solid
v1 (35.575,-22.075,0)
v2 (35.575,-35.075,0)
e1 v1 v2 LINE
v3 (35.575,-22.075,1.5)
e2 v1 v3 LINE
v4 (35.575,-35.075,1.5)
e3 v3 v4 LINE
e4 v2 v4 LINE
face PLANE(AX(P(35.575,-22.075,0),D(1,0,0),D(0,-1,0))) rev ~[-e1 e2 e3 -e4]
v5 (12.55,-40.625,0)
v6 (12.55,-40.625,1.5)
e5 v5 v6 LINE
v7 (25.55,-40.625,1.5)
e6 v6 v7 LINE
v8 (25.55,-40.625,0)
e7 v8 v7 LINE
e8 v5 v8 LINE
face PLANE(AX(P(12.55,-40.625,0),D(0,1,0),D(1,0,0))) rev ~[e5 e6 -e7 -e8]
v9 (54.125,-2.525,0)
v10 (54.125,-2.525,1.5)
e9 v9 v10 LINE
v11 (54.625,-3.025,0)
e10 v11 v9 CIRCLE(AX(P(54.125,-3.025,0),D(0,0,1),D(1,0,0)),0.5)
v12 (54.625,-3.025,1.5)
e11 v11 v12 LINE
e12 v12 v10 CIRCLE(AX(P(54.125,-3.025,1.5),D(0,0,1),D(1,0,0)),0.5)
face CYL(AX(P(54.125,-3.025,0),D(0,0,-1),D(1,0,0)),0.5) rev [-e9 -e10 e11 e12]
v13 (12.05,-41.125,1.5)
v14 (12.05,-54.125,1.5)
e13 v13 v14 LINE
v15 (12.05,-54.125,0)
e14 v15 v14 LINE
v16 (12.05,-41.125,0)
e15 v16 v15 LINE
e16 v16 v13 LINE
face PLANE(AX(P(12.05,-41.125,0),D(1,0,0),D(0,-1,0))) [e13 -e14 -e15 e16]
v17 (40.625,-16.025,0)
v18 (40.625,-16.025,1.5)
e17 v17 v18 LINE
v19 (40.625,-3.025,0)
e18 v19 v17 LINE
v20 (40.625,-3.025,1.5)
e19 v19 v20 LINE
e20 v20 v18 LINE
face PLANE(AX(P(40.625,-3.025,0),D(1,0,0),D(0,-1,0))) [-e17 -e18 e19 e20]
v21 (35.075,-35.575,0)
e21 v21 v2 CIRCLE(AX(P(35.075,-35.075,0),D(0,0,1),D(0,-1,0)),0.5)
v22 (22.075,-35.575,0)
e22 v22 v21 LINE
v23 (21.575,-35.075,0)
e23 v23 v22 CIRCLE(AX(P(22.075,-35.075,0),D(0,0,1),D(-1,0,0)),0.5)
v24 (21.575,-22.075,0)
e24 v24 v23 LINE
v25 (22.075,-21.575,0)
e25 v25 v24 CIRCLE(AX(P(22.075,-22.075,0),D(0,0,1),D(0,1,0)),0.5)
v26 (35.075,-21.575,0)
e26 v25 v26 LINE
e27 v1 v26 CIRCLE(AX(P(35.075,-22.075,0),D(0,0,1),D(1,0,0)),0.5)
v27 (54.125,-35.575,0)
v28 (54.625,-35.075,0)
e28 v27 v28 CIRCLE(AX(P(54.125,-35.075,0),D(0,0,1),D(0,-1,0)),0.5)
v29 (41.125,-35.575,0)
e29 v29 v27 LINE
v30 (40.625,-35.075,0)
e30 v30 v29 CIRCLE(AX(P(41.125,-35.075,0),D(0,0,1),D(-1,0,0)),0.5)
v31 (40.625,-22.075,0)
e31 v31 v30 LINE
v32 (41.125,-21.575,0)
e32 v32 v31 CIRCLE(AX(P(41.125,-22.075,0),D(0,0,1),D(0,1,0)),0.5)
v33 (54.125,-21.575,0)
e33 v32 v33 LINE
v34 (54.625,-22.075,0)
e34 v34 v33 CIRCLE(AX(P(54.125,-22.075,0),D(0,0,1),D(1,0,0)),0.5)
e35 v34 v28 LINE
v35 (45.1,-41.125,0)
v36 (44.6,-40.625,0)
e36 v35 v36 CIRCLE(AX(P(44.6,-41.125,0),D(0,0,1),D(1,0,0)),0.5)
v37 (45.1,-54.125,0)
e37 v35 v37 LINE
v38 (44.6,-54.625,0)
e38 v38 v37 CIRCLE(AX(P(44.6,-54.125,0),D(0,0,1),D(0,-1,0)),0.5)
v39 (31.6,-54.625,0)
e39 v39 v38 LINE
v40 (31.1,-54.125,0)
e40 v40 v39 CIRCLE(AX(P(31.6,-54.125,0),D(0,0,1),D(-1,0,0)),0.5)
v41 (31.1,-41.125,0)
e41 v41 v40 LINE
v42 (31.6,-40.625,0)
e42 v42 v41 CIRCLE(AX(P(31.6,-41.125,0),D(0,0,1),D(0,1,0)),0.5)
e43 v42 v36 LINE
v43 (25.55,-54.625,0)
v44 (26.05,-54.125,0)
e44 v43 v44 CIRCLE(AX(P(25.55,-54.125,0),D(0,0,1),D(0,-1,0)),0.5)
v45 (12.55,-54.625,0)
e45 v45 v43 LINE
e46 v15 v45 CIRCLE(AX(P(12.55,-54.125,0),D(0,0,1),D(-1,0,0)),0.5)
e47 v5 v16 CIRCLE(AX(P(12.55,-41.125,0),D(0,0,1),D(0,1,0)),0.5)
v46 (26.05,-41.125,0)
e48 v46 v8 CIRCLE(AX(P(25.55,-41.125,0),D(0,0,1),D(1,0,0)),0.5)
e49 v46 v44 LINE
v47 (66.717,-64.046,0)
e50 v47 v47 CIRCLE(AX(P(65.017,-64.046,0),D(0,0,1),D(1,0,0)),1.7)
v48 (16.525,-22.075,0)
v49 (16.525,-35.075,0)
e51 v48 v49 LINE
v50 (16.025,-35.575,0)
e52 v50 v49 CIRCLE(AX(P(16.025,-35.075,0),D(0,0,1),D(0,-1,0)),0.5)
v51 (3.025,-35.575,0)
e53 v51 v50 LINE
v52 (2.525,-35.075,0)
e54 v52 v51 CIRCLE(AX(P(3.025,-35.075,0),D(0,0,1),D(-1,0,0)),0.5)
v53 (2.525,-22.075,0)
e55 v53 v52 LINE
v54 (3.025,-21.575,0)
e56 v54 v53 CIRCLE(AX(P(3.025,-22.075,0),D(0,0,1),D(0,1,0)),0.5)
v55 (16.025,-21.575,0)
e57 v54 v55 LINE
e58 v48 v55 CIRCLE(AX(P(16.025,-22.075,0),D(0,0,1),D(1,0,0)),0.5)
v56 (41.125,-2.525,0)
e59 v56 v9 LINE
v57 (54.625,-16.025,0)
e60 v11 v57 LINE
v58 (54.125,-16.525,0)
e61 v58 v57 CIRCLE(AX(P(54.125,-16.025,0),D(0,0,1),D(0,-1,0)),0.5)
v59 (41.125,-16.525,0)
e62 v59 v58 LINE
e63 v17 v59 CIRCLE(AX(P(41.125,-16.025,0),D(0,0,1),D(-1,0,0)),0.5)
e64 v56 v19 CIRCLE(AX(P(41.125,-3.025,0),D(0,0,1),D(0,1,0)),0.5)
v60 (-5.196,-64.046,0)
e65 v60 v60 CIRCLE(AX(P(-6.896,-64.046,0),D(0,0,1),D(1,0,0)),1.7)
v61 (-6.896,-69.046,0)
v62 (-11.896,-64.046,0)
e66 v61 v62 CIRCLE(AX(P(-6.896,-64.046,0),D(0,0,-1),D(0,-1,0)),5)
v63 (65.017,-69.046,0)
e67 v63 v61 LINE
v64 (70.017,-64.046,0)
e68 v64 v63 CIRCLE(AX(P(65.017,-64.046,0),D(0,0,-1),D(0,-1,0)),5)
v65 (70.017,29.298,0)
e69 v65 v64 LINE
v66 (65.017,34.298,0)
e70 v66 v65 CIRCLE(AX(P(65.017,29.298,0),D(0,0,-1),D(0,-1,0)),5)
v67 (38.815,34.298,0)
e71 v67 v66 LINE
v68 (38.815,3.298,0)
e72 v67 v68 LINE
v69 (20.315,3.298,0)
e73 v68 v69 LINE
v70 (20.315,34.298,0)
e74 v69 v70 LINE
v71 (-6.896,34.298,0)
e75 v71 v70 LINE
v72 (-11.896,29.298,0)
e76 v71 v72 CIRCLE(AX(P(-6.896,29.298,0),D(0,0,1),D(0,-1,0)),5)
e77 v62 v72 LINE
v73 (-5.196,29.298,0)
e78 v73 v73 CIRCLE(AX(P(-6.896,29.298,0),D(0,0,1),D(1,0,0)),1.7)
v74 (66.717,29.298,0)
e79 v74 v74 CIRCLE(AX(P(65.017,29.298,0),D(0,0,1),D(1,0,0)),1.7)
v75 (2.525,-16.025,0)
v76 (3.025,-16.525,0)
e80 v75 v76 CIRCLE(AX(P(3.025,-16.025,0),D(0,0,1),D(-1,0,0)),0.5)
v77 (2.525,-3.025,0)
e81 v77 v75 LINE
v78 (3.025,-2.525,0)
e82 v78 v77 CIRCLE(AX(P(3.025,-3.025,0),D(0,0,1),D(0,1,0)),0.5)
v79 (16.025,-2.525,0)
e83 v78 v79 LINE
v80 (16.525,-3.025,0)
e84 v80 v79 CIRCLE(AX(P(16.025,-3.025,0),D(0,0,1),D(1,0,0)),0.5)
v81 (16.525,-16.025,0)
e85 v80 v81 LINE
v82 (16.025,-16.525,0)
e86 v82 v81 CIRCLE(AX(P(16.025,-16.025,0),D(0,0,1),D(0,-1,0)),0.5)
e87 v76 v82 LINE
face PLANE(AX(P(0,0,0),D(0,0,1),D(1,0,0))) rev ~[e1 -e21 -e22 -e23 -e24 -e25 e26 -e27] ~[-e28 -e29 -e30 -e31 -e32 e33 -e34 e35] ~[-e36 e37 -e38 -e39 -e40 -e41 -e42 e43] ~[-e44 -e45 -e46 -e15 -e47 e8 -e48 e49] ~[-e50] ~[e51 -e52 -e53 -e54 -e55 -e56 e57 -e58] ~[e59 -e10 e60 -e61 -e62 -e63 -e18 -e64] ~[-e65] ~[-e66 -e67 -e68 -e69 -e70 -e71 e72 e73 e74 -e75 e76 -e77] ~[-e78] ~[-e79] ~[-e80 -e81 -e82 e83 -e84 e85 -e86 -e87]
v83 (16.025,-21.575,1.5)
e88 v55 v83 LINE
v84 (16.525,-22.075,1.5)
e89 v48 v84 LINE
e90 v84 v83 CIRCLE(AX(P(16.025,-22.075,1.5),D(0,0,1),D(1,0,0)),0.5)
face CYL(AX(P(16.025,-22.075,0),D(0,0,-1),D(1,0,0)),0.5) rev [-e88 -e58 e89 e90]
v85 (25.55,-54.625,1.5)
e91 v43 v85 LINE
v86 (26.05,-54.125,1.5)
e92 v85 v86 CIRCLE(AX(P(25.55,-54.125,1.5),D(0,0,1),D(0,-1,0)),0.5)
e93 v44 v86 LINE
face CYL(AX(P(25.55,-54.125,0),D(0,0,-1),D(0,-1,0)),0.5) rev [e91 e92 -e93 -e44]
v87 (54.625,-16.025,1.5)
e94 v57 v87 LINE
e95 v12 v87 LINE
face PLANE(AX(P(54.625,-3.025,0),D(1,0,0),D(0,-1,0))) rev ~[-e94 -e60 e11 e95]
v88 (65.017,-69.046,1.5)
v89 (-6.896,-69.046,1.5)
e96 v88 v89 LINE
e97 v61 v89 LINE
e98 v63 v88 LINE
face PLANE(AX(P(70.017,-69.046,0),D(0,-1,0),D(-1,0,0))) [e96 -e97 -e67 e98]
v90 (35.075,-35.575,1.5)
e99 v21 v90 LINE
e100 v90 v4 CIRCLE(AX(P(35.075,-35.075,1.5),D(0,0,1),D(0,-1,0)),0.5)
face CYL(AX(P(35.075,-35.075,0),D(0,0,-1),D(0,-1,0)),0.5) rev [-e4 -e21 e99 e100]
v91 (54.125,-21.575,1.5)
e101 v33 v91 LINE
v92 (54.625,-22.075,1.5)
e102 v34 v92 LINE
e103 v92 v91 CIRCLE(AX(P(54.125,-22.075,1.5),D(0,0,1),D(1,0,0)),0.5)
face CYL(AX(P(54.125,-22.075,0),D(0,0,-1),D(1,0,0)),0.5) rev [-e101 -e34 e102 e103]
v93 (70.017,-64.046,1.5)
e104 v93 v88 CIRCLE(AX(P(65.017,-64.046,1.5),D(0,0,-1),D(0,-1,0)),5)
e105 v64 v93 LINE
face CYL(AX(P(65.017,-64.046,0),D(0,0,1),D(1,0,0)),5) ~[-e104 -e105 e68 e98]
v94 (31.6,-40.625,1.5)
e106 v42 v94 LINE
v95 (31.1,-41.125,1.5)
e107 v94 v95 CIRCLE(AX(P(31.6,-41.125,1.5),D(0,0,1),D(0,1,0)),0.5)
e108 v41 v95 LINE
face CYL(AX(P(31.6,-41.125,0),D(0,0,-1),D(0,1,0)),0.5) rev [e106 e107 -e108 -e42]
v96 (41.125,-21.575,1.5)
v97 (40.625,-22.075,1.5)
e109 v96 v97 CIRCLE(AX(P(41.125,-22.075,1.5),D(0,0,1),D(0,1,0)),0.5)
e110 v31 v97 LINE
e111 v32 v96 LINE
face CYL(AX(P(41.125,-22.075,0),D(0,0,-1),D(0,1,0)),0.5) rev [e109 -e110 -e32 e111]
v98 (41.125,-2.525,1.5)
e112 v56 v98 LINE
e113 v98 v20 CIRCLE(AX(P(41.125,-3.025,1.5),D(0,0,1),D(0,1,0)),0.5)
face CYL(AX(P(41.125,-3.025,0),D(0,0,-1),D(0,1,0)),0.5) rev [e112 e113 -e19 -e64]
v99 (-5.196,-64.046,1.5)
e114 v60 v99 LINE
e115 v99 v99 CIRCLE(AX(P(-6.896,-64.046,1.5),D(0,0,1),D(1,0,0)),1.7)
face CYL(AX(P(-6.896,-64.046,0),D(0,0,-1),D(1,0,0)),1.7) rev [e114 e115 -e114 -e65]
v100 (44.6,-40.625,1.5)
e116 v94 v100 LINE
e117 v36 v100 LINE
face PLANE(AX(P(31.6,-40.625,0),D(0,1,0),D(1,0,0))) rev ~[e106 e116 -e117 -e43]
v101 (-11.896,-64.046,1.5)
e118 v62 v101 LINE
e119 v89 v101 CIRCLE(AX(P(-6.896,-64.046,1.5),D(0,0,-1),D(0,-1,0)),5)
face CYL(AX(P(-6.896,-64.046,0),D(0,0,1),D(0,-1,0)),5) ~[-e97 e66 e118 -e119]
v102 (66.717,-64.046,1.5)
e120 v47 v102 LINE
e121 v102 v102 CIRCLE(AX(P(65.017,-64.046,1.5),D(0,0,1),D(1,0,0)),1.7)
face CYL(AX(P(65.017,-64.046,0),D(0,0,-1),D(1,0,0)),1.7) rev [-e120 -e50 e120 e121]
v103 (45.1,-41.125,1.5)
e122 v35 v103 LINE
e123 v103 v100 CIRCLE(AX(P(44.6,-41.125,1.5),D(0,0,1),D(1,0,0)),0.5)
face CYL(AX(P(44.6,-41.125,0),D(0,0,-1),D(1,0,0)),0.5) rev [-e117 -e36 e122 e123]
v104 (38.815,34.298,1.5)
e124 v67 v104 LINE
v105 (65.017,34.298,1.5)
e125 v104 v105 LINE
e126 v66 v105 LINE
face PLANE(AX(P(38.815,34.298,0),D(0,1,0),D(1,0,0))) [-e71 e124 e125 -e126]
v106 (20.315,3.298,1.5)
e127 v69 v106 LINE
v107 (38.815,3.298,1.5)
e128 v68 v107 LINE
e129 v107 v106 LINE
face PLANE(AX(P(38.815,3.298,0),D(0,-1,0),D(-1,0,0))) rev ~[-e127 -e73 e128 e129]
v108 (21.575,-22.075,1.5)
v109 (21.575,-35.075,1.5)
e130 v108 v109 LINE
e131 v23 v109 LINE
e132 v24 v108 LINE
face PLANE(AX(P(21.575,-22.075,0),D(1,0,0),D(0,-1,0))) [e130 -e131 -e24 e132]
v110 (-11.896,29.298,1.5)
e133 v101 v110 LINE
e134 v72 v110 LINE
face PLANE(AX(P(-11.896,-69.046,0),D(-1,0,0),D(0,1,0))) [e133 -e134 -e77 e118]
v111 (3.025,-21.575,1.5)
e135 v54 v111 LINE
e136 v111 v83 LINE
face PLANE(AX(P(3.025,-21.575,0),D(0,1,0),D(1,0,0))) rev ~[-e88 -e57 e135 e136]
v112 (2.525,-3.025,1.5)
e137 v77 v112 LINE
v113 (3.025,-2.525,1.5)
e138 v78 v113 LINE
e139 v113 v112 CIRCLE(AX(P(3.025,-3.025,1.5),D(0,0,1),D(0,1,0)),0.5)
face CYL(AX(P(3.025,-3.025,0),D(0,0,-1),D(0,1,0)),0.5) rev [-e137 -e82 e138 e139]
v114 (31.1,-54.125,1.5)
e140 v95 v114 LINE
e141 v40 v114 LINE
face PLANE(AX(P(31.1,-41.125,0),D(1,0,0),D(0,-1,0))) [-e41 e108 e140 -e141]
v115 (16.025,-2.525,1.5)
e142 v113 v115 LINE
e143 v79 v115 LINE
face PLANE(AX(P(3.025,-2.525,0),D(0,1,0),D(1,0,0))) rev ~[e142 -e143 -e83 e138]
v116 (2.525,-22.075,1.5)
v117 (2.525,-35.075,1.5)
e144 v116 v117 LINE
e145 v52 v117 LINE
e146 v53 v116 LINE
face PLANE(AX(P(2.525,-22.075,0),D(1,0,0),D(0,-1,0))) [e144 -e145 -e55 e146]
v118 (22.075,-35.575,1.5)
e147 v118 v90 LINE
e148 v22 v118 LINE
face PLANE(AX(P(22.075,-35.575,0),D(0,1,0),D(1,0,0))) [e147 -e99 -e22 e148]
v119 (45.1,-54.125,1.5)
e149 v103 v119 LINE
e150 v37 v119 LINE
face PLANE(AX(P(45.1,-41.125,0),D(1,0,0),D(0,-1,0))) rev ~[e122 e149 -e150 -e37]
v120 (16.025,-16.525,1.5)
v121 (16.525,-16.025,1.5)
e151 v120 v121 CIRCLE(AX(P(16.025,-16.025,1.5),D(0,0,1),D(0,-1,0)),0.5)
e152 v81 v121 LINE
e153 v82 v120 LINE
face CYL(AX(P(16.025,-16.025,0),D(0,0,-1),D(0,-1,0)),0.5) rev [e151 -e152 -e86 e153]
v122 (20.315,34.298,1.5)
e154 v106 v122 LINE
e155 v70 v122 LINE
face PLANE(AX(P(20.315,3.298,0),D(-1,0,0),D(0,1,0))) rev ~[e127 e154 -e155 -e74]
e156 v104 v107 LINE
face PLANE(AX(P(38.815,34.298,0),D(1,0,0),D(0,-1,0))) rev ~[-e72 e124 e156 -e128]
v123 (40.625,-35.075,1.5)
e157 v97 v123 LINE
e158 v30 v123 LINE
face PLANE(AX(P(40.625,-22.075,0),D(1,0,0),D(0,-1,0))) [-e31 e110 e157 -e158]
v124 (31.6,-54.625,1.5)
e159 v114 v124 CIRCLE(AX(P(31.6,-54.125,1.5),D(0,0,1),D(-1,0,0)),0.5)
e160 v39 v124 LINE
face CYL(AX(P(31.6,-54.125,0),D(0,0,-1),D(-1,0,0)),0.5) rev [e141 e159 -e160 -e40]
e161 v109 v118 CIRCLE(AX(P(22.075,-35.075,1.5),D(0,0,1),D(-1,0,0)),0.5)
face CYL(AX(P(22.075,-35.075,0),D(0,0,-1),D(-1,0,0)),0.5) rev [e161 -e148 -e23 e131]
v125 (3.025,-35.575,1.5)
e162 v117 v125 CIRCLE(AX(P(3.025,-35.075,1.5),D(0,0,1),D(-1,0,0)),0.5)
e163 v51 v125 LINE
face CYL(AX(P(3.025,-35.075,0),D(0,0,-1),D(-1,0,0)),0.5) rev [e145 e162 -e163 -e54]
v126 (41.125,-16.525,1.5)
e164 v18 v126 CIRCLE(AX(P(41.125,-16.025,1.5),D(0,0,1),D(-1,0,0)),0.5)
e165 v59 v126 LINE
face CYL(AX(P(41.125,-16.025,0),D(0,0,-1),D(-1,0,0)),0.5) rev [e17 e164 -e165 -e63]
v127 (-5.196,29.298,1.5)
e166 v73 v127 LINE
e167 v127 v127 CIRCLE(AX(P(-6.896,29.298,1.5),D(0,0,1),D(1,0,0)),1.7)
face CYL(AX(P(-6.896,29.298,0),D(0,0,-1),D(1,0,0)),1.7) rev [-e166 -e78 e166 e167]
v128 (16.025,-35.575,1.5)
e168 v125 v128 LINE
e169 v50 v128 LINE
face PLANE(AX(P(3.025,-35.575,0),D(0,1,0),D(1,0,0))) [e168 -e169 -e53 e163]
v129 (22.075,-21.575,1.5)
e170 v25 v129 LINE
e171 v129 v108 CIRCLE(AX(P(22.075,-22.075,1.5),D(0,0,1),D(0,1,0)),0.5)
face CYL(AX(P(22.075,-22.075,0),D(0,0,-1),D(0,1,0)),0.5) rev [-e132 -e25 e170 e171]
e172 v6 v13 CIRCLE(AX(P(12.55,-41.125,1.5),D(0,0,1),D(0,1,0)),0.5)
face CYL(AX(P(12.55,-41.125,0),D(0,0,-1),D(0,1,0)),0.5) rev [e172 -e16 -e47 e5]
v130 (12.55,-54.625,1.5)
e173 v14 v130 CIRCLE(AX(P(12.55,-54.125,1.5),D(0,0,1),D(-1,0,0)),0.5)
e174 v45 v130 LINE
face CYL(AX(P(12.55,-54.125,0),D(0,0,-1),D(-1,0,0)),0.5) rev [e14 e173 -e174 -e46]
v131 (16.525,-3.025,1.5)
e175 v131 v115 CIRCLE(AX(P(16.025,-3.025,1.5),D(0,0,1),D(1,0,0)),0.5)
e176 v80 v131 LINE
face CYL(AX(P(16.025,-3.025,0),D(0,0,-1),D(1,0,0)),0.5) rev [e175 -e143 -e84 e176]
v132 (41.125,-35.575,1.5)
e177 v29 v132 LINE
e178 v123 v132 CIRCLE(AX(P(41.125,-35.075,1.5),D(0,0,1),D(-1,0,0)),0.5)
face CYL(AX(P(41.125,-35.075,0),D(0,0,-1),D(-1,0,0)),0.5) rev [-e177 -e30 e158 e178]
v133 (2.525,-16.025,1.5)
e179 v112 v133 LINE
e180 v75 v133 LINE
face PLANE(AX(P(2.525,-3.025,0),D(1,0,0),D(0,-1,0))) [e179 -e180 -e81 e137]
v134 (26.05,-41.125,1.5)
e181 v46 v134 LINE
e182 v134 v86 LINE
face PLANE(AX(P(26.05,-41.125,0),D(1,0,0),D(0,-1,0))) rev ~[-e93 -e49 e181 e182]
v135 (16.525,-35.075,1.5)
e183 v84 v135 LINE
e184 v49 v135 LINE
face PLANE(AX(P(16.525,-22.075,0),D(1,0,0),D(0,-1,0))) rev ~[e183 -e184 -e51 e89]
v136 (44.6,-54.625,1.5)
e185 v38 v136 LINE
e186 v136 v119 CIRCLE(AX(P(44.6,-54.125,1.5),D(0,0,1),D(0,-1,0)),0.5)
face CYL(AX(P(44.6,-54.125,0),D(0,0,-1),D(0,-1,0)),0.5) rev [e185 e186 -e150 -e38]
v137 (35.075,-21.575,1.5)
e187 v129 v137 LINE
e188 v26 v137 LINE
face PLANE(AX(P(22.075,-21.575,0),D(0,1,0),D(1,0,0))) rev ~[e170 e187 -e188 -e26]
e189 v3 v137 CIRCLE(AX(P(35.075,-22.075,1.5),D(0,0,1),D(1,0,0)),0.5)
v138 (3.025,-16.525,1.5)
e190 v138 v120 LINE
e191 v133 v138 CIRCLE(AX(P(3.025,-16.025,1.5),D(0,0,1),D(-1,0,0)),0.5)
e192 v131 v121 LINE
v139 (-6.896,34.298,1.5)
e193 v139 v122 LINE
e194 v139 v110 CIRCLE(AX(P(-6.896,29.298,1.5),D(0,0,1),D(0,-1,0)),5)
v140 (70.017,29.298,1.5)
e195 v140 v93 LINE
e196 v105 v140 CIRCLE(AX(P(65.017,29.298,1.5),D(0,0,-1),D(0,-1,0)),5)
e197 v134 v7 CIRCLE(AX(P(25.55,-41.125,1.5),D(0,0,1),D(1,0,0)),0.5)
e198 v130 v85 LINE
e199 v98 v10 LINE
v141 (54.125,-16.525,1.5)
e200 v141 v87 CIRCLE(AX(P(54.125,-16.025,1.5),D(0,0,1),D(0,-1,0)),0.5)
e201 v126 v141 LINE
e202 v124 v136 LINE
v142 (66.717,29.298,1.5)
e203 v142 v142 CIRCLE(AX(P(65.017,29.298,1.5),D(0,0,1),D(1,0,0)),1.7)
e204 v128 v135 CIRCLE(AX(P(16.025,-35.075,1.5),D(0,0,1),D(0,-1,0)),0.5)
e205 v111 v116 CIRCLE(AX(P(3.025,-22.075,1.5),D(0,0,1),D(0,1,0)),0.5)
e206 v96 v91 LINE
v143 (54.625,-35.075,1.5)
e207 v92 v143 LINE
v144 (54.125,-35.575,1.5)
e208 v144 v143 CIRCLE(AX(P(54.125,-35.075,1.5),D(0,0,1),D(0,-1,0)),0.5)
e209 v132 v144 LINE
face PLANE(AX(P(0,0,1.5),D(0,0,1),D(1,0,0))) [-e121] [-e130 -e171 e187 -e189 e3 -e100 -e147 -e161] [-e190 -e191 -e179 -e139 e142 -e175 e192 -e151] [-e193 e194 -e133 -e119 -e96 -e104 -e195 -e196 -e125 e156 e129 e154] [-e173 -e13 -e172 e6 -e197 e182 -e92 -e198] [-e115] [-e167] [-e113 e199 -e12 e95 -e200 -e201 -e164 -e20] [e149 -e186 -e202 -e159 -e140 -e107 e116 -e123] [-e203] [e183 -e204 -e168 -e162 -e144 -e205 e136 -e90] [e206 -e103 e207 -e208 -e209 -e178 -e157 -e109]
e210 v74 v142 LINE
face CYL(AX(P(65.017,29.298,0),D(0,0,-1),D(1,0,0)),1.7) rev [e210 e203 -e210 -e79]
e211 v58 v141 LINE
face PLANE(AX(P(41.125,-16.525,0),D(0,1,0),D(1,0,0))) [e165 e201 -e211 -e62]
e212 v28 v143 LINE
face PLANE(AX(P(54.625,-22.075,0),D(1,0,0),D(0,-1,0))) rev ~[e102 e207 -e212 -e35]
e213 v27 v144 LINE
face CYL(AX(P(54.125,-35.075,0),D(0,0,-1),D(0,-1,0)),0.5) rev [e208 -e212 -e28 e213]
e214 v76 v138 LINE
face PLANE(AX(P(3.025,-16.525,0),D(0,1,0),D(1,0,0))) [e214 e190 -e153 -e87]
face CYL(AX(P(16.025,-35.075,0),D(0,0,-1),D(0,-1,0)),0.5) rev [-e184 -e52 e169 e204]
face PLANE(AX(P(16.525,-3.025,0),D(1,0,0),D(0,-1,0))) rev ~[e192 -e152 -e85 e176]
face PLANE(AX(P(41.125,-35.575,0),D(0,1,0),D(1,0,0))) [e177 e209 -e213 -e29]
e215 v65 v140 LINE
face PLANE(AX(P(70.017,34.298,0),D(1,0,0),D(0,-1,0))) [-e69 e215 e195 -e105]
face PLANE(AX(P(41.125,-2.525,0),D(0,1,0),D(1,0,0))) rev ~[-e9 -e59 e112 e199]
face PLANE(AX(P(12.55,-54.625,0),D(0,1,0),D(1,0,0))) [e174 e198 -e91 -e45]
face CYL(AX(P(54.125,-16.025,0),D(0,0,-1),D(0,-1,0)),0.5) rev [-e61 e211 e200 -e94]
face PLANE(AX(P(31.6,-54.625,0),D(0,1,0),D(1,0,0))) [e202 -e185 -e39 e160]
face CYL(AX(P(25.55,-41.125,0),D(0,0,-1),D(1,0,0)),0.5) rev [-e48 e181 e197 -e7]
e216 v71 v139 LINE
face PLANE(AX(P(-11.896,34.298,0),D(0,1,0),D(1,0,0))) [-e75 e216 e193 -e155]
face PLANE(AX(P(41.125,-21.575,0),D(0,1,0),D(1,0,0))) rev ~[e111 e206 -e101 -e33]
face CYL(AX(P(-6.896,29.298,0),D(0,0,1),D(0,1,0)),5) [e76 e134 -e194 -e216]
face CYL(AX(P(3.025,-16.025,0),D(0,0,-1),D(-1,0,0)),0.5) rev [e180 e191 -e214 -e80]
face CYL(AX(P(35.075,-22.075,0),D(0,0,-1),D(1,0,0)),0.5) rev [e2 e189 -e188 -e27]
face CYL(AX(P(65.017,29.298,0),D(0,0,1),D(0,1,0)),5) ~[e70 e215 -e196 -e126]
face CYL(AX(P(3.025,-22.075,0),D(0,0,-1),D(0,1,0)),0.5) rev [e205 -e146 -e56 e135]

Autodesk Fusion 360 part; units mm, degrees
sketch "plate-2025-12-07T05_26_02.564Z" plane through (0, 0, 0) normal (0, 0, 1) x (1, 0, 0)
  line L0 (3.025, -2.525) -> (16.025, -2.525)
  line L1 (3.025, -16.525) -> (16.025, -16.525)
  line L2 (2.525, -3.025) -> (2.525, -16.025)
  line L3 (16.525, -3.025) -> (16.525, -16.025)
  arc A0 (3.025, -2.525) -> (2.525, -3.025) centre (3.025, -3.025) ccw
  arc A1 (16.525, -3.025) -> (16.025, -2.525) centre (16.025, -3.025) ccw
  arc A2 (2.525, -16.025) -> (3.025, -16.525) centre (3.025, -16.025) ccw
  arc A3 (16.025, -16.525) -> (16.525, -16.025) centre (16.025, -16.025) ccw
  line L4 (41.125, -2.525) -> (54.125, -2.525)
  line L5 (41.125, -16.525) -> (54.125, -16.525)
  line L6 (40.625, -3.025) -> (40.625, -16.025)
  line L7 (54.625, -3.025) -> (54.625, -16.025)
  arc A4 (41.125, -2.525) -> (40.625, -3.025) centre (41.125, -3.025) ccw
  arc A5 (54.625, -3.025) -> (54.125, -2.525) centre (54.125, -3.025) ccw
  arc A6 (40.625, -16.025) -> (41.125, -16.525) centre (41.125, -16.025) ccw
  arc A7 (54.125, -16.525) -> (54.625, -16.025) centre (54.125, -16.025) ccw
  line L8 (3.025, -21.575) -> (16.025, -21.575)
  line L9 (3.025, -35.575) -> (16.025, -35.575)
  line L10 (2.525, -22.075) -> (2.525, -35.075)
  line L11 (16.525, -22.075) -> (16.525, -35.075)
  arc A8 (3.025, -21.575) -> (2.525, -22.075) centre (3.025, -22.075) ccw
  arc A9 (16.525, -22.075) -> (16.025, -21.575) centre (16.025, -22.075) ccw
  arc A10 (2.525, -35.075) -> (3.025, -35.575) centre (3.025, -35.075) ccw
  arc A11 (16.025, -35.575) -> (16.525, -35.075) centre (16.025, -35.075) ccw
  line L12 (22.075, -21.575) -> (35.075, -21.575)
  line L13 (22.075, -35.575) -> (35.075, -35.575)
  line L14 (21.575, -22.075) -> (21.575, -35.075)
  line L15 (35.575, -22.075) -> (35.575, -35.075)
  arc A12 (22.075, -21.575) -> (21.575, -22.075) centre (22.075, -22.075) ccw
  arc A13 (35.575, -22.075) -> (35.075, -21.575) centre (35.075, -22.075) ccw
  arc A14 (21.575, -35.075) -> (22.075, -35.575) centre (22.075, -35.075) ccw
  arc A15 (35.075, -35.575) -> (35.575, -35.075) centre (35.075, -35.075) ccw
  line L16 (41.125, -21.575) -> (54.125, -21.575)
  line L17 (41.125, -35.575) -> (54.125, -35.575)
  line L18 (40.625, -22.075) -> (40.625, -35.075)
  line L19 (54.625, -22.075) -> (54.625, -35.075)
  arc A16 (41.125, -21.575) -> (40.625, -22.075) centre (41.125, -22.075) ccw
  arc A17 (54.625, -22.075) -> (54.125, -21.575) centre (54.125, -22.075) ccw
  arc A18 (40.625, -35.075) -> (41.125, -35.575) centre (41.125, -35.075) ccw
  arc A19 (54.125, -35.575) -> (54.625, -35.075) centre (54.125, -35.075) ccw
  line L20 (12.55, -40.625) -> (25.55, -40.625)
  line L21 (12.55, -54.625) -> (25.55, -54.625)
  line L22 (12.05, -41.125) -> (12.05, -54.125)
  line L23 (26.05, -41.125) -> (26.05, -54.125)
  arc A20 (12.55, -40.625) -> (12.05, -41.125) centre (12.55, -41.125) ccw
  arc A21 (26.05, -41.125) -> (25.55, -40.625) centre (25.55, -41.125) ccw
  arc A22 (12.05, -54.125) -> (12.55, -54.625) centre (12.55, -54.125) ccw
  arc A23 (25.55, -54.625) -> (26.05, -54.125) centre (25.55, -54.125) ccw
  line L24 (31.6, -40.625) -> (44.6, -40.625)
  line L25 (31.6, -54.625) -> (44.6, -54.625)
  line L26 (31.1, -41.125) -> (31.1, -54.125)
  line L27 (45.1, -41.125) -> (45.1, -54.125)
  arc A24 (31.6, -40.625) -> (31.1, -41.125) centre (31.6, -41.125) ccw
  arc A25 (45.1, -41.125) -> (44.6, -40.625) centre (44.6, -41.125) ccw
  arc A26 (31.1, -54.125) -> (31.6, -54.625) centre (31.6, -54.125) ccw
  arc A27 (44.6, -54.625) -> (45.1, -54.125) centre (44.6, -54.125) ccw
  line L28 (-11.896, 34.298) -> (70.017, 34.298)
  line L29 (70.017, 34.298) -> (70.017, -69.046)
  line L30 (70.017, -69.046) -> (-11.896, -69.046)
  line L31 (-11.896, -69.046) -> (-11.896, 34.298)
  line L32 (20.315, 34.298) -> (38.815, 34.298)
  line L33 (38.815, 34.298) -> (38.815, 3.298)
  line L34 (38.815, 3.298) -> (20.315, 3.298)
  line L35 (20.315, 3.298) -> (20.315, 34.298)
  circle A28 centre (-6.896, 29.298) radius 1.7
  circle A29 centre (65.017, 29.298) radius 1.7
  circle A30 centre (-6.896, -64.046) radius 1.7
  circle A31 centre (65.017, -64.046) radius 1.7
  dimension "d1" = 81.913
  dimension "d2" = 103.344
  dimension "d3" = 23.946
  dimension "d4" = 14.421
  dimension "d5" = 18.5
  dimension "d6" = 31
  dimension "d7" = 32.211
  dimension "d8" = 3.4
  dimension "d9" = 3.4
  dimension "d10" = 3.4
  dimension "d11" = 3.4
  dimension "d12" = 5
  dimension "d13" = 5
  dimension "d14" = 5
  dimension "d15" = 5
  dimension "d16" = 5
  dimension "d17" = 5
  dimension "d18" = 5
  dimension "d19" = 5
extrude "Extrude1" add sketch "plate-2025-12-07T05_26_02.564Z" along normal blind 1.5 contours L28 L29 L30 L31 L33 L34 L35
fillet "Fillet1" radius 5 4 edges at (-11.896, -69.046, 0.75) (70.017, -69.046, 0.75) (70.017, 34.298, 0.75) (-11.896, 34.298, 0.75)
